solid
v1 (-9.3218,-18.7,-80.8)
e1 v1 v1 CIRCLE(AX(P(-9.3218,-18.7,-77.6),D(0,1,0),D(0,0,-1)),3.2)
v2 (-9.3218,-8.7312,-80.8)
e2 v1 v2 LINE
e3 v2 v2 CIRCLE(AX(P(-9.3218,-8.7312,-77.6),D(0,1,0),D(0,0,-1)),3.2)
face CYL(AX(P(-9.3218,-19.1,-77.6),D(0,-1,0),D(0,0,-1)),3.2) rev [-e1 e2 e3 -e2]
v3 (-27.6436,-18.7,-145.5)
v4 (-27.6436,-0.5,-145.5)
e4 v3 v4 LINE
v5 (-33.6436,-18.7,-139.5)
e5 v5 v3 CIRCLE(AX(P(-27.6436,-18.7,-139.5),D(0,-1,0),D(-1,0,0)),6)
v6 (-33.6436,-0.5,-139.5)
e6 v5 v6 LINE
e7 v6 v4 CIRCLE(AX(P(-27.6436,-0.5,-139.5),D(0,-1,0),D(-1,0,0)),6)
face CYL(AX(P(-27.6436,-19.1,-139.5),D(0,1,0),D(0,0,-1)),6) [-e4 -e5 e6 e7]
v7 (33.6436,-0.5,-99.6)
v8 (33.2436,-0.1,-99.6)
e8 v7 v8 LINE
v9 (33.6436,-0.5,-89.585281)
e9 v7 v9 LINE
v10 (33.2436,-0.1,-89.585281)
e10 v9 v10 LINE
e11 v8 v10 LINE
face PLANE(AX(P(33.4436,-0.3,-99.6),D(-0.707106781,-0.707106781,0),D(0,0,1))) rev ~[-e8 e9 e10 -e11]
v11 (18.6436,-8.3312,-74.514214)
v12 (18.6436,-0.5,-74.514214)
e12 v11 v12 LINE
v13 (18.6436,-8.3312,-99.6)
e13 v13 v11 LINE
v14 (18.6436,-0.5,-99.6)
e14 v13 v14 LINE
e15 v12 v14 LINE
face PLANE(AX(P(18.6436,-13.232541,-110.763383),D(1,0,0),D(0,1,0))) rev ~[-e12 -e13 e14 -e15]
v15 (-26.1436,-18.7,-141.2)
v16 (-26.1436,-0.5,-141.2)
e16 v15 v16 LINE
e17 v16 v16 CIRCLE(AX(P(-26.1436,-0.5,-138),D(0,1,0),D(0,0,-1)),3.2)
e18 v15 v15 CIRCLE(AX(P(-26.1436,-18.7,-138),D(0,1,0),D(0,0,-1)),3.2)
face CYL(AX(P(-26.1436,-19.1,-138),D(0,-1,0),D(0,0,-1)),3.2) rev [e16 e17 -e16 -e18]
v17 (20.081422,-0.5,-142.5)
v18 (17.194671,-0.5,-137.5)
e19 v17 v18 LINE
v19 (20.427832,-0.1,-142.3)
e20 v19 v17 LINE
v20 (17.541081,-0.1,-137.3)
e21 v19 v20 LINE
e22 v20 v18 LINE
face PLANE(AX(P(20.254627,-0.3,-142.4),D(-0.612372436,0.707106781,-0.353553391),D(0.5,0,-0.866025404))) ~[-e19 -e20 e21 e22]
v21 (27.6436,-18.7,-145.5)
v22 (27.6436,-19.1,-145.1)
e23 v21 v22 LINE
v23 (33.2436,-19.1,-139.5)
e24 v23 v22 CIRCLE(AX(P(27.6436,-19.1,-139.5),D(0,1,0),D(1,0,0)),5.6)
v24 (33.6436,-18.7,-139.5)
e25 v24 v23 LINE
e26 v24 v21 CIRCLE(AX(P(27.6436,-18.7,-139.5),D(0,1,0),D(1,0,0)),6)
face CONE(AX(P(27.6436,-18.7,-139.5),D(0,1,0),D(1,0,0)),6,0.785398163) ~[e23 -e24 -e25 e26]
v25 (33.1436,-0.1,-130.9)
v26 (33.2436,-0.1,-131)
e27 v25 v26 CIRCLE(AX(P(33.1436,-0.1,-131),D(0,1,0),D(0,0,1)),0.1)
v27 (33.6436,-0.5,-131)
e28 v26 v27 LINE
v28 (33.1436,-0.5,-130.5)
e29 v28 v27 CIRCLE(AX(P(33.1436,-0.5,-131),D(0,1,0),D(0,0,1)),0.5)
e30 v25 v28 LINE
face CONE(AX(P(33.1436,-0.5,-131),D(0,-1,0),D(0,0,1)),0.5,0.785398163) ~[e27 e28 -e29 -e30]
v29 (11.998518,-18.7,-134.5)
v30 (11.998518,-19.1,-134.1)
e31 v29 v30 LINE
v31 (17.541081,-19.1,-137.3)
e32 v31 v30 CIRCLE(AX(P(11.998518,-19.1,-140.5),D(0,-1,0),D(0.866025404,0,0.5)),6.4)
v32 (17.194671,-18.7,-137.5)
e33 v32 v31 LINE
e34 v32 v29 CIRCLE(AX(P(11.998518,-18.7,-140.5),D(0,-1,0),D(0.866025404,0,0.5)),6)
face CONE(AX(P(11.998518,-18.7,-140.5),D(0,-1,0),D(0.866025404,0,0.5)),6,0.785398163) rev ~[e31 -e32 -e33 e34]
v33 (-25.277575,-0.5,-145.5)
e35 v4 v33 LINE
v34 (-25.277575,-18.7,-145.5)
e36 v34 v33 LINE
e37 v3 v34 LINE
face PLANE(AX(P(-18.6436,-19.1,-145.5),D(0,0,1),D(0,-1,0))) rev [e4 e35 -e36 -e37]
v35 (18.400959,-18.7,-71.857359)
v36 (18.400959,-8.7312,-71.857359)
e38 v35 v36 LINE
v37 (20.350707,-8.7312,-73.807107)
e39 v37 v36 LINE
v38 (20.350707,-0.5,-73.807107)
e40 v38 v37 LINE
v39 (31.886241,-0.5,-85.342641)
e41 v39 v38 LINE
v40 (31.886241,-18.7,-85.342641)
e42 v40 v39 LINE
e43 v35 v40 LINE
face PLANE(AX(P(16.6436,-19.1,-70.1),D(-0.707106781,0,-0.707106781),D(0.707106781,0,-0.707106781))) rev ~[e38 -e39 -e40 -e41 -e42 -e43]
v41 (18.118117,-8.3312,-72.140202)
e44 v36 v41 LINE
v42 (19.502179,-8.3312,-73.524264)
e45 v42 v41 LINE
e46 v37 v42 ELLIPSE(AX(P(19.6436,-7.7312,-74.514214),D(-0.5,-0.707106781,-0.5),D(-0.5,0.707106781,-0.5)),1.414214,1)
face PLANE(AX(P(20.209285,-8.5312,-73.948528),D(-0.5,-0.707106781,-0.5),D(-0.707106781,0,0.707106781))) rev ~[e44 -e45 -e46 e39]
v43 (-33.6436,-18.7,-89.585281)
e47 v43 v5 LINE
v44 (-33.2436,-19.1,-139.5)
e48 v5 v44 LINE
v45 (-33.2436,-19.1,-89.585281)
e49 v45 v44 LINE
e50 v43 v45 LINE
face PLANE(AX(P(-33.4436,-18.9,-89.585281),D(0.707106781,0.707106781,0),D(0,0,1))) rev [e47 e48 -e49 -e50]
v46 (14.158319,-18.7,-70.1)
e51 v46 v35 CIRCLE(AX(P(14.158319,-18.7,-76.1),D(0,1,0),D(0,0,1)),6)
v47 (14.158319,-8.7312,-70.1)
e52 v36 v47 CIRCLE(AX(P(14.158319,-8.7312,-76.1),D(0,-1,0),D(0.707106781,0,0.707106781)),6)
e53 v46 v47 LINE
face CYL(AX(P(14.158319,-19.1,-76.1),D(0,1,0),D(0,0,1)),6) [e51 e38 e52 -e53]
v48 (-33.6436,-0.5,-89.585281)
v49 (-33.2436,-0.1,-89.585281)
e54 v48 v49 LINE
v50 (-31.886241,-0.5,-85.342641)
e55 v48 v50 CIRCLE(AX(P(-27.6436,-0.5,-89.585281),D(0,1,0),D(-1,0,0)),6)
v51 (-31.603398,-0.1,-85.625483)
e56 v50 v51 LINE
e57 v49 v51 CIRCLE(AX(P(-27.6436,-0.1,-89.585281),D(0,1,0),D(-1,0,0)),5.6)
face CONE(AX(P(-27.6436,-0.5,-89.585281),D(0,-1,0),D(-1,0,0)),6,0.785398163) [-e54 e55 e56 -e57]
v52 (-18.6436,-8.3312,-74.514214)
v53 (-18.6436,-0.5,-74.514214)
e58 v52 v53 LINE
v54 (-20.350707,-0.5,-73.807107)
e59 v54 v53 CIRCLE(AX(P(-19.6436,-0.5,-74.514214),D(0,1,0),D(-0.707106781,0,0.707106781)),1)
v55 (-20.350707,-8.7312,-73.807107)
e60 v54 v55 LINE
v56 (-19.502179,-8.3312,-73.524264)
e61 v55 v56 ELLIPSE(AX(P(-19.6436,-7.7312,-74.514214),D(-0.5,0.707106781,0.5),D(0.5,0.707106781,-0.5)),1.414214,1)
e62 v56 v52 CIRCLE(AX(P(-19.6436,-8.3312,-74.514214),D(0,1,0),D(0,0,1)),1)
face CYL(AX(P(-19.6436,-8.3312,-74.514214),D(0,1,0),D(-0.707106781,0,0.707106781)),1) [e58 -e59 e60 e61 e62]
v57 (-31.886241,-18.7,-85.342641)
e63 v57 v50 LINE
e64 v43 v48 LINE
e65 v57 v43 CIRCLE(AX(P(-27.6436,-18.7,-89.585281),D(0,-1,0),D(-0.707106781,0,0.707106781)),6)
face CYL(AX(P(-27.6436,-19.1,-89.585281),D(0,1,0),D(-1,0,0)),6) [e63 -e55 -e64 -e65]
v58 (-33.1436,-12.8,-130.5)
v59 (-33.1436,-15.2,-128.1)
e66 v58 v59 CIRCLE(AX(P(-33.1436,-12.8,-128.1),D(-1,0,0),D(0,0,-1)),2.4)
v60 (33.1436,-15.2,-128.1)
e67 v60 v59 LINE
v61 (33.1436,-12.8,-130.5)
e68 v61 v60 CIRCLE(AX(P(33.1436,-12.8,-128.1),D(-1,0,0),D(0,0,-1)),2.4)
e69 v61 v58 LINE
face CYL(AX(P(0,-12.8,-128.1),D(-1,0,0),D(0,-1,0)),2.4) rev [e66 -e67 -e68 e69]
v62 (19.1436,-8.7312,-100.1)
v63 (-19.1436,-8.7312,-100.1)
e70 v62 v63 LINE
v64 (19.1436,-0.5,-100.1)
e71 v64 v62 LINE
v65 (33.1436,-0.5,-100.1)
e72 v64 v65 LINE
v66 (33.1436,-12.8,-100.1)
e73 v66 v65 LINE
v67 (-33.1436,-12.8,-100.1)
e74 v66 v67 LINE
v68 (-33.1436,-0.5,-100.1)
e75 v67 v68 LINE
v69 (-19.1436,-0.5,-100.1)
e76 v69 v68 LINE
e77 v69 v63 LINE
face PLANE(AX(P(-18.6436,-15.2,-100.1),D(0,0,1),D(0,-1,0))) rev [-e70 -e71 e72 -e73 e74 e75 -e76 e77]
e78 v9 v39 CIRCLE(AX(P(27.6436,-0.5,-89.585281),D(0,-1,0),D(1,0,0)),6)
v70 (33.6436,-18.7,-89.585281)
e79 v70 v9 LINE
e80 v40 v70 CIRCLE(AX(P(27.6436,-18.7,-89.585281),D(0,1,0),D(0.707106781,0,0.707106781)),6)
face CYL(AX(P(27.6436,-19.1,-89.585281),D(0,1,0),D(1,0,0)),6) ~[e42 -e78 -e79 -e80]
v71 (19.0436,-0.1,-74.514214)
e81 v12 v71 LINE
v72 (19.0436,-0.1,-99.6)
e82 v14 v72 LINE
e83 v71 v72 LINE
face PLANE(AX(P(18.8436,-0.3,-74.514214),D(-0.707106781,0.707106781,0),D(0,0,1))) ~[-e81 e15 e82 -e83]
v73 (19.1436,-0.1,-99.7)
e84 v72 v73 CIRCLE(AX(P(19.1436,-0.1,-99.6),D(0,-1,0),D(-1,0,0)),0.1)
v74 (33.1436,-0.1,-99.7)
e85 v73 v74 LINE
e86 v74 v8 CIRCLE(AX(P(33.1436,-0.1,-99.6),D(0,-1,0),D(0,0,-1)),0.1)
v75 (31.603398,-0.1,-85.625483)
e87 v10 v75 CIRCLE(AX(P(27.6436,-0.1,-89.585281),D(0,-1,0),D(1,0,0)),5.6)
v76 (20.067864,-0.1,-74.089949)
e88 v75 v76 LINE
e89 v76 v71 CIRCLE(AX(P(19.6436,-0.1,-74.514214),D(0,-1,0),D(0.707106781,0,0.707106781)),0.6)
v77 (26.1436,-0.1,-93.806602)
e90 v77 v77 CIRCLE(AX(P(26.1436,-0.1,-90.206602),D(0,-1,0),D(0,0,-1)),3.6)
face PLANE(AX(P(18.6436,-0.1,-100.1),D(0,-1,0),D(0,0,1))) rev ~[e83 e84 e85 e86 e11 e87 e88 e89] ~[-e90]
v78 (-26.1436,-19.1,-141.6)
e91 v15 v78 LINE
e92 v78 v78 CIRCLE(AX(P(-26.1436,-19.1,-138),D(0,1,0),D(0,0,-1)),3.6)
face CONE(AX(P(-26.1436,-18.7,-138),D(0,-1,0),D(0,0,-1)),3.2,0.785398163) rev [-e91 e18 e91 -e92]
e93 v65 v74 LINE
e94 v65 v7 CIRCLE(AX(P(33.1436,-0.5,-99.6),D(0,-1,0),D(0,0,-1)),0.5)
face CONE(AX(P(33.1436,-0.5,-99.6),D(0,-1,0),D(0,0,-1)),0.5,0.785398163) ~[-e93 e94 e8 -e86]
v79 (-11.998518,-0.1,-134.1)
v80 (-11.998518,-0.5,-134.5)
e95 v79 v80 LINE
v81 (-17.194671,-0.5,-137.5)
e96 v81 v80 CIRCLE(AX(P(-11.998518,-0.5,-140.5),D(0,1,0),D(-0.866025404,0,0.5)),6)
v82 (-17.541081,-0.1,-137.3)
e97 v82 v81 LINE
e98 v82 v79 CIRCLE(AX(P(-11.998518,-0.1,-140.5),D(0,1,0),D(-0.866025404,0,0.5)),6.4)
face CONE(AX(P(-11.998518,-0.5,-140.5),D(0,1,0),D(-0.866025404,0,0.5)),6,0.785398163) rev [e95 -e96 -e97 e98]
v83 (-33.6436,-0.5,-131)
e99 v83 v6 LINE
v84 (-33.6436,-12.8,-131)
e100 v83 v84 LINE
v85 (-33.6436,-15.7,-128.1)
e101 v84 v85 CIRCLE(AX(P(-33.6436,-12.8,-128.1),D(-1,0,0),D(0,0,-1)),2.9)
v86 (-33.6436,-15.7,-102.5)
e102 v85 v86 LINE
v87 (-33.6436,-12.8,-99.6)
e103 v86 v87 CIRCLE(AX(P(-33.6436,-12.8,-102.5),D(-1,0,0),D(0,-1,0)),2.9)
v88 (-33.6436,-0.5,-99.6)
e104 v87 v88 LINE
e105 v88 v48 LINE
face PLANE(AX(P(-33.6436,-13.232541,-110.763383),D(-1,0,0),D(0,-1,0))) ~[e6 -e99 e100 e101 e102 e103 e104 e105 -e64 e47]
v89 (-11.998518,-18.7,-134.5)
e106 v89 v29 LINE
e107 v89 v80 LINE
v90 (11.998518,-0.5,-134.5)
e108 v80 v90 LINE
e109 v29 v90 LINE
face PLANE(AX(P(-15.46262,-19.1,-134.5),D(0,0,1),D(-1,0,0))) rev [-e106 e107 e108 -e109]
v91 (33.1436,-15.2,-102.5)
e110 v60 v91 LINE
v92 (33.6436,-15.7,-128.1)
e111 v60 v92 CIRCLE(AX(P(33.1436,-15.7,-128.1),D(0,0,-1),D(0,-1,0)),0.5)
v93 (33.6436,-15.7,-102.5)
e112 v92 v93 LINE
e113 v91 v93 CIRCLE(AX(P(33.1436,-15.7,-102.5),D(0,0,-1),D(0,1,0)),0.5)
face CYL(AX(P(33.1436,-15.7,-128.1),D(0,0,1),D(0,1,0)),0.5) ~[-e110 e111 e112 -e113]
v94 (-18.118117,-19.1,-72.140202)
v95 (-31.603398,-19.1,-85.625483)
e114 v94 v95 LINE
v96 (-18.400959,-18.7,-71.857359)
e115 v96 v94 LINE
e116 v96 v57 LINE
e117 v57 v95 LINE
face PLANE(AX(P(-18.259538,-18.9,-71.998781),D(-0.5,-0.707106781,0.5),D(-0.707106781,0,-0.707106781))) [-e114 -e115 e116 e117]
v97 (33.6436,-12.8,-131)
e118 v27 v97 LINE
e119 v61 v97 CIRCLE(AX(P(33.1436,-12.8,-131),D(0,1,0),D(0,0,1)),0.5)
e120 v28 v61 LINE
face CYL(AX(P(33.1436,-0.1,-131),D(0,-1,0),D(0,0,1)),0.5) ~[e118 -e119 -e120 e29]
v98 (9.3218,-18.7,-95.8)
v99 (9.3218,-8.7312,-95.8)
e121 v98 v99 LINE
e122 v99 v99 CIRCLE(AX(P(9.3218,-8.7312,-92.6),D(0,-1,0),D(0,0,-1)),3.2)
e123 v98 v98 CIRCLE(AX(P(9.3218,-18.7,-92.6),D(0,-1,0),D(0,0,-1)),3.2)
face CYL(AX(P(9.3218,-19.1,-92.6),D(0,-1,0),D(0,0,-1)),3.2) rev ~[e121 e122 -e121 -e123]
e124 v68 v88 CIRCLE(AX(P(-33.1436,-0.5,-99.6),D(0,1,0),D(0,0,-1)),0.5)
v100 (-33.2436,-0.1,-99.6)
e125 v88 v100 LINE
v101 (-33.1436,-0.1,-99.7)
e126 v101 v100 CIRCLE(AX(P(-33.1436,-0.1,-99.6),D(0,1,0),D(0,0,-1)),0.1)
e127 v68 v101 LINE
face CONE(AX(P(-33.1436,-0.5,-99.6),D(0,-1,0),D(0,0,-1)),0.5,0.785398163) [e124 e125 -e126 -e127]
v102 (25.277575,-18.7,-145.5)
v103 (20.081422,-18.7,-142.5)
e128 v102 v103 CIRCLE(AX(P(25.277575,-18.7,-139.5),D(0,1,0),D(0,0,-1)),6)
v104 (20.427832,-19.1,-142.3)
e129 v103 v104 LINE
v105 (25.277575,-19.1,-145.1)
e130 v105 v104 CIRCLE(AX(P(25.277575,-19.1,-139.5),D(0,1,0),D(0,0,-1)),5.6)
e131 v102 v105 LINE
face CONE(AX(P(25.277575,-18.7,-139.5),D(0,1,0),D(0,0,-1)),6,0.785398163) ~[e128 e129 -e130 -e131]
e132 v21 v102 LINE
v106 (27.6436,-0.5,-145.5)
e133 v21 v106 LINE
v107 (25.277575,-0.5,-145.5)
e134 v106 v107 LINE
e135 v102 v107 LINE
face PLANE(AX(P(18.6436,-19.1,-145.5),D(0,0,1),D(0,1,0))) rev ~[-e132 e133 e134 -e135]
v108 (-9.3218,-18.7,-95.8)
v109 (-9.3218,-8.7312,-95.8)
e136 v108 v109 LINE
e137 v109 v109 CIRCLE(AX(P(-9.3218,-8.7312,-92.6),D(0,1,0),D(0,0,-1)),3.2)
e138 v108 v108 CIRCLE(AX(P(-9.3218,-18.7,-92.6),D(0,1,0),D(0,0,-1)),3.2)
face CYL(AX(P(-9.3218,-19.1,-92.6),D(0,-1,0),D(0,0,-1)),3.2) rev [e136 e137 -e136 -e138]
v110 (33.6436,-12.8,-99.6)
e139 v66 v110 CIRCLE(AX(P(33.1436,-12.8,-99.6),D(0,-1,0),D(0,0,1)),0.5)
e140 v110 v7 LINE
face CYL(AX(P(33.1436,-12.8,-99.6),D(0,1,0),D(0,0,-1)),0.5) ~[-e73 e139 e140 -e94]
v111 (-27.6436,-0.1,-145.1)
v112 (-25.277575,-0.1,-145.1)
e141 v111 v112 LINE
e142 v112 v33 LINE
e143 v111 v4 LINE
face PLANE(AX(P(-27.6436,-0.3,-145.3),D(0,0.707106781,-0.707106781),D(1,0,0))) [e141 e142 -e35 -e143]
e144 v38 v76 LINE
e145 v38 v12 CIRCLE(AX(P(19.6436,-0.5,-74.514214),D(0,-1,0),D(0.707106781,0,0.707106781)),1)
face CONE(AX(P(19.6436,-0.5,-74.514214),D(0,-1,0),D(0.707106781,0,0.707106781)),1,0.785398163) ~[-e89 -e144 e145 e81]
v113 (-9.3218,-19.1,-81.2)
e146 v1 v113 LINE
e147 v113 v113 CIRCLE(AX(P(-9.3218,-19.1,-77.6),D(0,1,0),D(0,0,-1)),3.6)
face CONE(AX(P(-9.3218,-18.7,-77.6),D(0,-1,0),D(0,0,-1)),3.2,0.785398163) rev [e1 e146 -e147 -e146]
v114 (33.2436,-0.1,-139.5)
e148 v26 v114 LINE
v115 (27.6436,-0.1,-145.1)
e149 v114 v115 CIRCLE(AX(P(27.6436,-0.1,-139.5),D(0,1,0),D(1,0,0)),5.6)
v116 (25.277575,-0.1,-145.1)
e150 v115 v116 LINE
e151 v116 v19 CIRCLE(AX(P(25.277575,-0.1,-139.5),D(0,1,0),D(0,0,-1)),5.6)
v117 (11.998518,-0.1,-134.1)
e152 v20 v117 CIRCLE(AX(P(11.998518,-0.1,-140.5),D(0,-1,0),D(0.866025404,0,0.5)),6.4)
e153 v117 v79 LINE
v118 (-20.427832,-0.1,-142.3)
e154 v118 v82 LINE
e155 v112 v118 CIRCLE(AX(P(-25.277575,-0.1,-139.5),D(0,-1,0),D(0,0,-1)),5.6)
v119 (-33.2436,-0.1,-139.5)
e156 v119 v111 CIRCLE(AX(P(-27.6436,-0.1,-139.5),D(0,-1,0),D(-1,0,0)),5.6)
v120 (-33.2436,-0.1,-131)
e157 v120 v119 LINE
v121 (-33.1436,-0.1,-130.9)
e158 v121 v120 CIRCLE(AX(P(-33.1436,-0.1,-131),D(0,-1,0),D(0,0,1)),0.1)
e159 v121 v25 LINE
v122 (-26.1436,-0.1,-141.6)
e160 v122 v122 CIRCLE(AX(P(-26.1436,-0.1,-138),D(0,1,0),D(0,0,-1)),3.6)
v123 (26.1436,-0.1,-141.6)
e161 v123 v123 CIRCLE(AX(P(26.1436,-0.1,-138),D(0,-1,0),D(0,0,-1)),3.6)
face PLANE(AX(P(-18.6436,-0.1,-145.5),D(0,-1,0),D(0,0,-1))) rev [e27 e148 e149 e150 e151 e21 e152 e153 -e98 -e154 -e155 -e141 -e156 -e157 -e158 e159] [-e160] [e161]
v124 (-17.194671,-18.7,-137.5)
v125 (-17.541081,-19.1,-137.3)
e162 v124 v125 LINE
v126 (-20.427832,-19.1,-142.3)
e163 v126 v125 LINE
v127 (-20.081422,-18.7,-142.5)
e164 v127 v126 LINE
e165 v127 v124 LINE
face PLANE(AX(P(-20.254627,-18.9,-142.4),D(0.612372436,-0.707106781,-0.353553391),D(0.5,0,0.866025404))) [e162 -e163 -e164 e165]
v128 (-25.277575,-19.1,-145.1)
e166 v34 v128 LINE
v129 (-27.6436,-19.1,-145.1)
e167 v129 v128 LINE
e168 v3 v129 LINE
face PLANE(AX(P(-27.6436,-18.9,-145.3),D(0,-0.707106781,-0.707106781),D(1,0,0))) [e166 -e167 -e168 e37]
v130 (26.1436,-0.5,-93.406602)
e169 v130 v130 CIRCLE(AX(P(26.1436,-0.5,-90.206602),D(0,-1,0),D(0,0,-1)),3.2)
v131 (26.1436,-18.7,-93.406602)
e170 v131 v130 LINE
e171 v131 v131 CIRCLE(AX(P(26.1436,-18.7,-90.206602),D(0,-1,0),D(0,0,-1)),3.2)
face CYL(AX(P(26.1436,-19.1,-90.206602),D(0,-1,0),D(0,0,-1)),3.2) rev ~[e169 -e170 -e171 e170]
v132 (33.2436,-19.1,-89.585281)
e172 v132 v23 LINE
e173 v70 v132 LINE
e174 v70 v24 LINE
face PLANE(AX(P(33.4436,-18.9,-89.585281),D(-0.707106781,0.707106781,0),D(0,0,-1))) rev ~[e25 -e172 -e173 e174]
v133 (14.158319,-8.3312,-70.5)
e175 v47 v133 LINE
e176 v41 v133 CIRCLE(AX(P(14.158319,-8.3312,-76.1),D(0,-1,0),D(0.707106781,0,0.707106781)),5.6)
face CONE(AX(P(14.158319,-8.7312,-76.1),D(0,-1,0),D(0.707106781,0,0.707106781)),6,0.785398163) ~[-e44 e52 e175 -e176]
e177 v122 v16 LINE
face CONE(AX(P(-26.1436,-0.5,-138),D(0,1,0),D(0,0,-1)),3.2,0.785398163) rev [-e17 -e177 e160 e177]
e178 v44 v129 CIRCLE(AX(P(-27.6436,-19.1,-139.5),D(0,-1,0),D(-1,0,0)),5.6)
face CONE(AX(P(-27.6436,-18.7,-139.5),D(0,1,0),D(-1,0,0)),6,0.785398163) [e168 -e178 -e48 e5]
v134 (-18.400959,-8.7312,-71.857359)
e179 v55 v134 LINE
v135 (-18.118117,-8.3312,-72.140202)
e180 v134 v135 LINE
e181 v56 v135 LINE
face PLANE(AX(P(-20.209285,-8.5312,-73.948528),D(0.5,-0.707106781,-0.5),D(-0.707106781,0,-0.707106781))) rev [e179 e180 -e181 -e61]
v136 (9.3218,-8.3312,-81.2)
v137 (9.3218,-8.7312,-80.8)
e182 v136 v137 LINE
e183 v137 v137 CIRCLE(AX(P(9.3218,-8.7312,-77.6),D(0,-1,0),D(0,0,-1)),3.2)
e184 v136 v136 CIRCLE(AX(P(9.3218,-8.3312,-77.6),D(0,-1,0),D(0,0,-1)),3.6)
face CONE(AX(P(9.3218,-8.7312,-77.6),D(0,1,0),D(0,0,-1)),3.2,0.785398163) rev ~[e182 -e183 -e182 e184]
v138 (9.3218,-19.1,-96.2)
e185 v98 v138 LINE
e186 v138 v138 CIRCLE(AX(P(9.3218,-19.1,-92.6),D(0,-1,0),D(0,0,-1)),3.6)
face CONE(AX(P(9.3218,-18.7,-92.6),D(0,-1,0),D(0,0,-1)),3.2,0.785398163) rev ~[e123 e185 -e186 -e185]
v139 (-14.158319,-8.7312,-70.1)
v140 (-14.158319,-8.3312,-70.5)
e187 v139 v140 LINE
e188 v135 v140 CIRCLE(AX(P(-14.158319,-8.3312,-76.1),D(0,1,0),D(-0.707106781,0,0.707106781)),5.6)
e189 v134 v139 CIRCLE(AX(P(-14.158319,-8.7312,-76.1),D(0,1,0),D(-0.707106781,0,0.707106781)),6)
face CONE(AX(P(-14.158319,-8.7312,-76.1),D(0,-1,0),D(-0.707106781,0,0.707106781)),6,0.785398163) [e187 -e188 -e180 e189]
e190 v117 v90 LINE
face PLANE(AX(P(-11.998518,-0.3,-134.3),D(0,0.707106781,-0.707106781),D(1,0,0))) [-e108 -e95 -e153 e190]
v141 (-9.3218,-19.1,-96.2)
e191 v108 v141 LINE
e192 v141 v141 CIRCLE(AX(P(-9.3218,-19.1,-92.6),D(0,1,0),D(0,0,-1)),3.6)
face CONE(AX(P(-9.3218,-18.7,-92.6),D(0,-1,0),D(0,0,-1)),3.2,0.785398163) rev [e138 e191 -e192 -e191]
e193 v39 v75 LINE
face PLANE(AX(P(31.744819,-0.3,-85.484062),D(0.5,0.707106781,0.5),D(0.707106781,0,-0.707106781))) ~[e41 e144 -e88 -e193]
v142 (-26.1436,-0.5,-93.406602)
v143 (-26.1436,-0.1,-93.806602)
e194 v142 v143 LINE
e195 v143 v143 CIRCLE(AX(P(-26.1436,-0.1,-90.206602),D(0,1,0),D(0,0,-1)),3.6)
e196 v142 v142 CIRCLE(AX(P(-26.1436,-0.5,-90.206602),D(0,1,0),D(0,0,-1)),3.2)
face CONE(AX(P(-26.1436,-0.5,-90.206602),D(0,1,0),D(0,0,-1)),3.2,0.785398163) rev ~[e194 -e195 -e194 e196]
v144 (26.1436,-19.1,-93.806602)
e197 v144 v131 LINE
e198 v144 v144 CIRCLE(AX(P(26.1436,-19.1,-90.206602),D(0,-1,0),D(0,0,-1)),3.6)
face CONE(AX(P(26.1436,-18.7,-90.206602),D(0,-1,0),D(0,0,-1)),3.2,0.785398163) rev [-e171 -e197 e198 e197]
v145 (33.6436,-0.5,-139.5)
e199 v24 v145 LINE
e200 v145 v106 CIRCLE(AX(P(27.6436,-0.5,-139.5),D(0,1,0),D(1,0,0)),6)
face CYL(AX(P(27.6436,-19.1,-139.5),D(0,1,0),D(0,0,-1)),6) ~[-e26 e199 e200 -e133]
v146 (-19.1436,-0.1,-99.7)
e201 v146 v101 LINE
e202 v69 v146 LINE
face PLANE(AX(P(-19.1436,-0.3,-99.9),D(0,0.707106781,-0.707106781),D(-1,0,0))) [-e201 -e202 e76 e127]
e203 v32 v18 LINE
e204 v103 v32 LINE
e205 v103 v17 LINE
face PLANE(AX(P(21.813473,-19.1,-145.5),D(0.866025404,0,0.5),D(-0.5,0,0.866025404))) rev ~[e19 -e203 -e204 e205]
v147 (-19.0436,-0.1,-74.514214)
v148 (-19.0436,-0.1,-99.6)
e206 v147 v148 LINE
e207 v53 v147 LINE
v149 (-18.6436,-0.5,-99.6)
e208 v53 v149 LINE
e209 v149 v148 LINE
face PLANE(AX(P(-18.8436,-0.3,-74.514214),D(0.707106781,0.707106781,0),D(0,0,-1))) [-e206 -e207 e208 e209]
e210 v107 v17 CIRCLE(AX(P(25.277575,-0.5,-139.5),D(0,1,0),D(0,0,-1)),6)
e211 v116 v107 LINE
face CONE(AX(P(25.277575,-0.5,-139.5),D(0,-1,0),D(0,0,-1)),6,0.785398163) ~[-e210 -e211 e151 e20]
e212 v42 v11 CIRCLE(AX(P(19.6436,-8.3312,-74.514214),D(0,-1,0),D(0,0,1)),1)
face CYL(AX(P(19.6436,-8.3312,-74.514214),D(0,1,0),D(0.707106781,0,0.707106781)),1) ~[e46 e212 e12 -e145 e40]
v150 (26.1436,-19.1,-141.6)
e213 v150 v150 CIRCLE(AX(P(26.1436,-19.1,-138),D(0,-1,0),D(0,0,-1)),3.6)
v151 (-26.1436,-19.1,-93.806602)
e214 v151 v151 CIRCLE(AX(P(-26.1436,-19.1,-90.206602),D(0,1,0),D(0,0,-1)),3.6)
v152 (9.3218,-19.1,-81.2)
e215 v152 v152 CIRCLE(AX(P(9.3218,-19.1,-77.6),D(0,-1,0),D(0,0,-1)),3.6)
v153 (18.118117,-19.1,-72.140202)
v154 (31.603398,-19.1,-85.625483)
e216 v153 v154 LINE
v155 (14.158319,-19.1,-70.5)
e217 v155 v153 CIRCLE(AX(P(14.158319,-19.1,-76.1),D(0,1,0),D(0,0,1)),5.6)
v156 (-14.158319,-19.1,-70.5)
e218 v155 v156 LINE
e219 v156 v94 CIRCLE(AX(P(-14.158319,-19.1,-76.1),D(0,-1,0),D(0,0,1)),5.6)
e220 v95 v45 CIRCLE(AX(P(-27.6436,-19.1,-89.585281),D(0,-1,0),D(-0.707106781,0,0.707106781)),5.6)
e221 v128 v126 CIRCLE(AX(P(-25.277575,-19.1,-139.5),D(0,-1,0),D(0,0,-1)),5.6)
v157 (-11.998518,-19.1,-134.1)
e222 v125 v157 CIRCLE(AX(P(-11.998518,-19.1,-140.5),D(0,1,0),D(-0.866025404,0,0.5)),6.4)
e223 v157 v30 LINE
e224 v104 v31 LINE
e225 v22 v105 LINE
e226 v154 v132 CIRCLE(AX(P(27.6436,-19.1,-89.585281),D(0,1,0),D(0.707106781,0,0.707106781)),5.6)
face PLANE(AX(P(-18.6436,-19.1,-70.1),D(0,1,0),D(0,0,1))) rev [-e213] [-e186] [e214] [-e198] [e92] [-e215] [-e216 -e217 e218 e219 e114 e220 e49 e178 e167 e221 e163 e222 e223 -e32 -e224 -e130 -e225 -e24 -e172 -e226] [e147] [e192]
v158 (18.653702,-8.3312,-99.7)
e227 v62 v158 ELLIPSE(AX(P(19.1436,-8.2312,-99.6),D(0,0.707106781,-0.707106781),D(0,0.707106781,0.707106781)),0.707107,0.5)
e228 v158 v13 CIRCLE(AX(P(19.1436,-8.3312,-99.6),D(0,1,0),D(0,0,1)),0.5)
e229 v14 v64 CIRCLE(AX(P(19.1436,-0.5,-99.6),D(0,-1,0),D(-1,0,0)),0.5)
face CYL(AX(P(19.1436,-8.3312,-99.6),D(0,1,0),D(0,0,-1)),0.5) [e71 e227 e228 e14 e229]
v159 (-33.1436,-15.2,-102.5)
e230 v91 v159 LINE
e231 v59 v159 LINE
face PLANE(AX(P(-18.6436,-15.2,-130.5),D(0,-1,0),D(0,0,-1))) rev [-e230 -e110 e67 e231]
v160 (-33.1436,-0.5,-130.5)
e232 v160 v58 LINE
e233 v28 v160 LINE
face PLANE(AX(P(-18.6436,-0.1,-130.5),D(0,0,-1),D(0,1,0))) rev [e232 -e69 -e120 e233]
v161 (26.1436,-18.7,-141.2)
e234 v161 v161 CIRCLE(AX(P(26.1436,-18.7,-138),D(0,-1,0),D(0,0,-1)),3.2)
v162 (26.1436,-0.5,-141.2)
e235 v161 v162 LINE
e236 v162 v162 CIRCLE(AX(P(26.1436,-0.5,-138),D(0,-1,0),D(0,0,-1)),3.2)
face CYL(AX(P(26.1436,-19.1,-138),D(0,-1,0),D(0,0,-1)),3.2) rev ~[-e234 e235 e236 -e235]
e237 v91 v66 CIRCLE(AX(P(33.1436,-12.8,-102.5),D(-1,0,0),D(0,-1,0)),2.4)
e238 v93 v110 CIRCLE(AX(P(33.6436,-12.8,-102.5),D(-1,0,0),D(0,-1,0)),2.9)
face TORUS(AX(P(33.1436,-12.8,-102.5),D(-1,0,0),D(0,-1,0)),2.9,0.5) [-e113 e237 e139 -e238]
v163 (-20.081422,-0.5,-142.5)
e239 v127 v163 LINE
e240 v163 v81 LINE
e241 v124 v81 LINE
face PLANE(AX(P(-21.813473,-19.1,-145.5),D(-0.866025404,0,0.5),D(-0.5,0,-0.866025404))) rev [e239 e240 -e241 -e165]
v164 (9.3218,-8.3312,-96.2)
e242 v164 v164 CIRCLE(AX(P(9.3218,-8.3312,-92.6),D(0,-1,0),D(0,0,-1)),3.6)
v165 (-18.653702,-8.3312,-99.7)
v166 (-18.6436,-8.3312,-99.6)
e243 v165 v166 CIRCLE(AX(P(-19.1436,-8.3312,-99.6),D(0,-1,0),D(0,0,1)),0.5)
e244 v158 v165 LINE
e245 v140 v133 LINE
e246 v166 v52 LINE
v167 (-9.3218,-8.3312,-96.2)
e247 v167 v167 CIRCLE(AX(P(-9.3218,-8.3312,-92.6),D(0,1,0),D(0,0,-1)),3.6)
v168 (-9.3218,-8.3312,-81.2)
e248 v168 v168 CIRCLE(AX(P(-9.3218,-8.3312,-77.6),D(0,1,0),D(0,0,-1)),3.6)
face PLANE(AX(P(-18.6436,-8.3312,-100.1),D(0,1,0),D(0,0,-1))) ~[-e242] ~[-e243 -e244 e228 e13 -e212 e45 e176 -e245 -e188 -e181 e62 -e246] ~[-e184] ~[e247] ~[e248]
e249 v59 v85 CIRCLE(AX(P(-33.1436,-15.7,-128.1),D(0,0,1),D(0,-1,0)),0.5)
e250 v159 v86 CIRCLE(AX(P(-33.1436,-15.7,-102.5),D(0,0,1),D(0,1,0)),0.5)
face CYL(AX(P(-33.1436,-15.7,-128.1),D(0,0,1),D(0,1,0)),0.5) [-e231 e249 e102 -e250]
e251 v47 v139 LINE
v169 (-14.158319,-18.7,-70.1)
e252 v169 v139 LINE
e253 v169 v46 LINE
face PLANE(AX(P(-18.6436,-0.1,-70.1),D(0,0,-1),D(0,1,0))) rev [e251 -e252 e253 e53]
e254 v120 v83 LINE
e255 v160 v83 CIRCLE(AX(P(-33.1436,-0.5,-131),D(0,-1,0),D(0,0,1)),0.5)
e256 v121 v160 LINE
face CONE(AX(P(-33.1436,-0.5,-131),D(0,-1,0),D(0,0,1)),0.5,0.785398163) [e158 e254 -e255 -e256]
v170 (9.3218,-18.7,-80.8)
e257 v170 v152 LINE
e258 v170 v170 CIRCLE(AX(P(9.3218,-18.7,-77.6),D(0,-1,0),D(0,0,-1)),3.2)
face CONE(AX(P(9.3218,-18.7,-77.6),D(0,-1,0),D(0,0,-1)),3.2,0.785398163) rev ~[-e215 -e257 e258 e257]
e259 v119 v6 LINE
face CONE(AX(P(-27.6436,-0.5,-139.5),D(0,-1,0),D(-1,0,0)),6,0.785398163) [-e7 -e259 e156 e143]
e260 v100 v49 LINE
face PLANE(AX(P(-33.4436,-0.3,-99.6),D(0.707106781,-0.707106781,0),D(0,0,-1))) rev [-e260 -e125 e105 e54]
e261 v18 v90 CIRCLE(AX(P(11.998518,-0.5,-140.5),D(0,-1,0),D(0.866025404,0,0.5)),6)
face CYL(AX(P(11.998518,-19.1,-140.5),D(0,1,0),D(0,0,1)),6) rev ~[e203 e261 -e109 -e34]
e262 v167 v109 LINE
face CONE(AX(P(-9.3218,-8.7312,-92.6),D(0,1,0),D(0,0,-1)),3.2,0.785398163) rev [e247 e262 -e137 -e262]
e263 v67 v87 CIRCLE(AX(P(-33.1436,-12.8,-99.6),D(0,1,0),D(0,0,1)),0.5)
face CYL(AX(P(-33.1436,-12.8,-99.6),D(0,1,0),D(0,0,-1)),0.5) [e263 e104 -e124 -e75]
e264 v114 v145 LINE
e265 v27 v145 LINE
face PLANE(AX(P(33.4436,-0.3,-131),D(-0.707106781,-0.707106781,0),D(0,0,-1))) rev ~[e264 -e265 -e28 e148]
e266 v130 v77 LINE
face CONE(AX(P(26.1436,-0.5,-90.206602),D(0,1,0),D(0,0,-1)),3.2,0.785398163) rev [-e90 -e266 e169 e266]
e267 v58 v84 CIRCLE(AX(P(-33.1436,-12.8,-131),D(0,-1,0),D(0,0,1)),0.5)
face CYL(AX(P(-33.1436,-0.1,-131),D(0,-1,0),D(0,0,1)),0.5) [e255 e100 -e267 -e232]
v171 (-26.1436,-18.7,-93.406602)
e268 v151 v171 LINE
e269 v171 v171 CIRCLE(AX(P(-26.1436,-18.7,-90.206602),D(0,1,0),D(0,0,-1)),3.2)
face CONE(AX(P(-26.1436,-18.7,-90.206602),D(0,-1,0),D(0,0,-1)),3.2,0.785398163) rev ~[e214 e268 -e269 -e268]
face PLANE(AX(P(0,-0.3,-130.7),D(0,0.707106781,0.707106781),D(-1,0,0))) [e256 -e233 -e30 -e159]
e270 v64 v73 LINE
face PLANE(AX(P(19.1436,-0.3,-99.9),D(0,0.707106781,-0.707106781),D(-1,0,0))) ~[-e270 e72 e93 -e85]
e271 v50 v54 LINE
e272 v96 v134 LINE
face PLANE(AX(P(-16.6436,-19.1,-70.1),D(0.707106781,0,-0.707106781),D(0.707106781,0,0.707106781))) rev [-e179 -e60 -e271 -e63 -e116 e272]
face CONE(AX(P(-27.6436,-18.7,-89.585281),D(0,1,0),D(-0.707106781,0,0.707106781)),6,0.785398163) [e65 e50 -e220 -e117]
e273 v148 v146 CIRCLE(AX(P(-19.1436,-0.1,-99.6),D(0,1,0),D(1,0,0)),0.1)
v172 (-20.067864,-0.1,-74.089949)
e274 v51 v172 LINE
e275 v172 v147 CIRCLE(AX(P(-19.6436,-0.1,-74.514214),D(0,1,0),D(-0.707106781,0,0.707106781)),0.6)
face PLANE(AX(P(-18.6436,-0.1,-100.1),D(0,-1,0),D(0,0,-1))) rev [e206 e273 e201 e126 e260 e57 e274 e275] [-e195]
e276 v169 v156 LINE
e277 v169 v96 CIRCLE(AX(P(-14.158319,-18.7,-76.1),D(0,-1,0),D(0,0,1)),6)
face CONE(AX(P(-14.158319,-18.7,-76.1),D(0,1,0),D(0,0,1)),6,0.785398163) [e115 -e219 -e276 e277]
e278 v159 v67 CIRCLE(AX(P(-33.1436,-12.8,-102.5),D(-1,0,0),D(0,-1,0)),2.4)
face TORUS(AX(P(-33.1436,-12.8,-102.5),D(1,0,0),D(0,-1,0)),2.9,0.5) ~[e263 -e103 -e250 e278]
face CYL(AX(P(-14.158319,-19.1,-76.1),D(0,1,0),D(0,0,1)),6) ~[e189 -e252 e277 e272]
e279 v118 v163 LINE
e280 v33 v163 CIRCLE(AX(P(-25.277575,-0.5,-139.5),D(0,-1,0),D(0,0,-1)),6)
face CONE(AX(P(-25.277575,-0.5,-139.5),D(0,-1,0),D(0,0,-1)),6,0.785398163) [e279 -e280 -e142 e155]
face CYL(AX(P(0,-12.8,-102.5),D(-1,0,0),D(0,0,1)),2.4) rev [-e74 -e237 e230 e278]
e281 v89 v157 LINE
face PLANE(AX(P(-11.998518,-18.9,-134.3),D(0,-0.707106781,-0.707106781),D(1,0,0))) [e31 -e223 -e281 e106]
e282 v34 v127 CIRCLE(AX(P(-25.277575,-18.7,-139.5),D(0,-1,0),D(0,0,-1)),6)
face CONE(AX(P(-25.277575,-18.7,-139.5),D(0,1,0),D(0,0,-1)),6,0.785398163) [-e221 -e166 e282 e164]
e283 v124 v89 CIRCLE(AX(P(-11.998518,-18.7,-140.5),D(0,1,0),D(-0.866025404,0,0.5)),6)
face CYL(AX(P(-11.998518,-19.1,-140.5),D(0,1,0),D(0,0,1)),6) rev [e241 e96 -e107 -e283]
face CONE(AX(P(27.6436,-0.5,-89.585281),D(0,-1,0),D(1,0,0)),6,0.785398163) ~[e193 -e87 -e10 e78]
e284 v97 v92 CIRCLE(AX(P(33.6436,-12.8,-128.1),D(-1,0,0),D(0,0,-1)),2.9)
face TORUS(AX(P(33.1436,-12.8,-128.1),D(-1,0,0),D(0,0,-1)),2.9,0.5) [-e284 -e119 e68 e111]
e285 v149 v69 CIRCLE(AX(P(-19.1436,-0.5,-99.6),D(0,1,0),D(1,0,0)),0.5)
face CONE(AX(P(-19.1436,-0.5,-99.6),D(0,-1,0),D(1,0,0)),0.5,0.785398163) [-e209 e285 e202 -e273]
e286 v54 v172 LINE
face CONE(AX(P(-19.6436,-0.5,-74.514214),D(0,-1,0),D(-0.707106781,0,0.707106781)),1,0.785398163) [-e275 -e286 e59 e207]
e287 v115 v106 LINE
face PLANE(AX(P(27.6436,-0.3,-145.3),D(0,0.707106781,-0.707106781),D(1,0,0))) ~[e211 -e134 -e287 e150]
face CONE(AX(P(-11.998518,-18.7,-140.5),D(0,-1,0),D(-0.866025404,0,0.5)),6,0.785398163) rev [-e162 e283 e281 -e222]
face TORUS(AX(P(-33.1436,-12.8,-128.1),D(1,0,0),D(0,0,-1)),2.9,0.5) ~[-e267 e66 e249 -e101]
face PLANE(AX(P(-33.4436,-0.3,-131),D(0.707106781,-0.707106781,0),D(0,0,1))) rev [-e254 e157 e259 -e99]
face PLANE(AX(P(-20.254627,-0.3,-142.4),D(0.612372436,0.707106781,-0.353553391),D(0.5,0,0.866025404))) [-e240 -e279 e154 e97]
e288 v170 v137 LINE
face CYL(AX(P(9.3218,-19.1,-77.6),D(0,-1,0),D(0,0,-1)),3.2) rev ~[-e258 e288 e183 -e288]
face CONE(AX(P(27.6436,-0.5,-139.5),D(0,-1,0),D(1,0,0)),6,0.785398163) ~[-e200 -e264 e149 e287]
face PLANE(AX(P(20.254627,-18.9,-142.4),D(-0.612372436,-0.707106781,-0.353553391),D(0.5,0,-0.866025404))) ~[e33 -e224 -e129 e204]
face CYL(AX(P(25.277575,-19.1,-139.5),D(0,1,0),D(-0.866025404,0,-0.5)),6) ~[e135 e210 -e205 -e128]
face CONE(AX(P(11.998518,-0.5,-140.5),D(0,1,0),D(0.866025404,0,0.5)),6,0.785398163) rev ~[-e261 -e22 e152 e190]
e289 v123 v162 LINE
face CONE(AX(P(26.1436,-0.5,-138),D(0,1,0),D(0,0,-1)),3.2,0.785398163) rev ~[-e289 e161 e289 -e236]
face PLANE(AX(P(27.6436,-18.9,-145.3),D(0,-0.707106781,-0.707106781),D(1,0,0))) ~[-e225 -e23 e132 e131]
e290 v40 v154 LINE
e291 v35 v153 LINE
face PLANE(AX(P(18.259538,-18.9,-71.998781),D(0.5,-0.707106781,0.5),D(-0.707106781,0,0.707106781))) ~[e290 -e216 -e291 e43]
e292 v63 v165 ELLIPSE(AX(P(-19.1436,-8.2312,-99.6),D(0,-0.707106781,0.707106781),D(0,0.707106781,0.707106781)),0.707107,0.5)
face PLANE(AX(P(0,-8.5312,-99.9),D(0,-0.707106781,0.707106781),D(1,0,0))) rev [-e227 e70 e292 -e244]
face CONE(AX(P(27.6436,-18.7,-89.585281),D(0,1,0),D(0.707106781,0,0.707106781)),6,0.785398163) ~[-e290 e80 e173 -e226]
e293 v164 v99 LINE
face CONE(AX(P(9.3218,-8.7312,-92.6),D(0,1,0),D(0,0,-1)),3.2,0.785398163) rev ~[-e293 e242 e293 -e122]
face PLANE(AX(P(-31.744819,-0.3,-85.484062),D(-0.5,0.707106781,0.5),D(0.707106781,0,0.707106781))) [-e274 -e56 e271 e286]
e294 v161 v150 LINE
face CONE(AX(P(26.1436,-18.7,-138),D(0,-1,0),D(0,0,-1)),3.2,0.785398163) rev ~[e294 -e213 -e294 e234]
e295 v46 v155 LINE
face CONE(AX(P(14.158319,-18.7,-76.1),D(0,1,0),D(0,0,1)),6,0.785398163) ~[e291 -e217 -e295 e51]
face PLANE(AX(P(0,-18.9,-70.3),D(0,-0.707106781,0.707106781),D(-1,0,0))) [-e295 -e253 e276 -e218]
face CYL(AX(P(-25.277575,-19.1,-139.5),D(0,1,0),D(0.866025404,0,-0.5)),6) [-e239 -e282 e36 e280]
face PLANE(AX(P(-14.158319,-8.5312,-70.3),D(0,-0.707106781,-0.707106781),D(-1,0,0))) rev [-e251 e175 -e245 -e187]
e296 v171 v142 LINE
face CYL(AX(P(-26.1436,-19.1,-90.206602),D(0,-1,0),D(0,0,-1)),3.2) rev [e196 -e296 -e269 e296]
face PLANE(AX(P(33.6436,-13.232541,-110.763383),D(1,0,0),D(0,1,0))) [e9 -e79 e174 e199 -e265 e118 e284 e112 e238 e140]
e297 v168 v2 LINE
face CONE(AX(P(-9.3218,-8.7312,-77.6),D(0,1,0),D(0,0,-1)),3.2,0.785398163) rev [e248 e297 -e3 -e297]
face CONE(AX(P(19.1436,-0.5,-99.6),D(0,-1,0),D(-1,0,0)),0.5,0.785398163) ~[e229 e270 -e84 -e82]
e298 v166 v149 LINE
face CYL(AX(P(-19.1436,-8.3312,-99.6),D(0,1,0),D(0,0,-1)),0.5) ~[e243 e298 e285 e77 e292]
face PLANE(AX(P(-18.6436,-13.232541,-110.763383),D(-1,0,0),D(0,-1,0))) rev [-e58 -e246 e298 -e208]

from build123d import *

# Parameters (mm, degrees)
SKETCH1_W           = 16.6624
SKETCH1_H           = 37.2872
BOSS_EXTRUDE1_DEPTH = 100
BOSS_EXTRUDE2_DEPTH = 18.6436
SKETCH2_3_W         = 8.2312
SKETCH2_3_H         = 29.9
SKETCH2_3_H_2       = 0.1
BOSS_EXTRUDE3_DEPTH = 15
SKETCH3_R           = 3.2
CUT_EXTRUDE1_DEPTH  = 151.542823877
FILLET1_R           = 6
FILLET3_R           = 2.4
FILLET2_R           = 0.5
FILLET4_R           = 1
CHAMFER1_SIZE       = 0.4


with BuildPart() as part:
    # Sketch1 → Boss-Extrude1 (new, symmetric)
    with BuildSketch(Plane(origin=(0, 0, 0), x_dir=(0, 1, 0), z_dir=(0, 0, 1))):
        Rectangle(SKETCH1_W, SKETCH1_H)
    extrude(amount=BOSS_EXTRUDE1_DEPTH, both=True)


with BuildPart() as body_2:
    # Sketch2 → Boss-Extrude2 (new body)
    with BuildSketch(Plane.YZ.offset(18.6436)):
        Polygon((-8.3312, -100), (-8.3312, -70.1), (-19.1, -70.1), (-19.1, -145.5), (-0.1, -145.5), (-0.1, -130.5), (-15.2, -130.5), (-15.2, -100.1), (-8.3312, -100.1), align=None)
    extrude(amount=-BOSS_EXTRUDE2_DEPTH)

    # Sketch2<3> → Boss-Extrude3 (add)
    with BuildSketch(Plane.YZ.offset(18.6436)):
        Polygon((-8.3312, -100), (-8.3312, -70.1), (-19.1, -70.1), (-19.1, -145.5), (-0.1, -145.5), (-0.1, -130.5), (-15.2, -130.5), (-15.2, -100.1), (-8.3312, -100.1), align=None)
        with Locations((-4.2156, -85.05)):
            Rectangle(SKETCH2_3_W, SKETCH2_3_H)
        with Locations((-4.2156, -100.05)):
            Rectangle(SKETCH2_3_W, SKETCH2_3_H_2)
    extrude(amount=BOSS_EXTRUDE3_DEPTH)

    # Sketch3 → Cut-Extrude1 (cut, through all)
    with BuildSketch(Plane.XZ.offset(19.1)):
        Polygon((15.46262002, -134.5), (0, -134.5), (0, -145.5), (21.813472981, -145.5), align=None)
        with Locations(Location((26.1436, -138, 0), (0, 0, 270))):
            Circle(SKETCH3_R)
        with Locations(Location((26.1436, -90.206601718, 0), (0, 0, 270))):
            Circle(SKETCH3_R)
        Polygon((33.6436, -70.1), (18.6436, -70.1), (18.6436, -72.1), (33.6436, -87.1), align=None)
        Polygon((18.6436, -70.1), (16.6436, -70.1), (18.6436, -72.1), align=None)
        with Locations(Location((9.3218, -77.6, 0), (0, 0, 270))):
            Circle(SKETCH3_R)
        with Locations(Location((9.3218, -92.6, 0), (0, 0, 270))):
            Circle(SKETCH3_R)
    extrude(amount=-CUT_EXTRUDE1_DEPTH, mode=Mode.SUBTRACT)

    # Fillet1
    fillet1_edges = [body_2.edges().sort_by_distance(p)[0] for p in [
        (15.46262002, -9.6, -134.5),
        (21.813472981, -9.6, -145.5),
        (33.6436, -9.6, -145.5),
        (16.6436, -13.7156, -70.1),
        (33.6436, -9.6, -87.1),
    ]]
    fillet(fillet1_edges, radius=FILLET1_R)

    # Fillet3
    fillet3_edges = [body_2.edges().sort_by_distance(p)[0] for p in [
        (16.8218, -15.2, -130.5),
        (16.8218, -15.2, -100.1),
    ]]
    fillet(fillet3_edges, radius=FILLET3_R)

    # Fillet2
    fillet2_edges = [body_2.edges().sort_by_distance(p)[0] for p in [
        (33.6436, -6.45, -130.5),
        (33.6436, -15.2, -115.3),
        (33.6436, -14.497056275, -129.797056275),
        (33.6436, -14.497056275, -100.802943725),
        (33.6436, -6.45, -100.1),
        (18.6436, -4.2156, -100.1),
    ]]
    fillet(fillet2_edges, radius=FILLET2_R)

    # Fillet4
    fillet4_edges = [body_2.edges().sort_by_distance(p)[0] for p in [
        (18.6436, -4.2156, -72.1),
    ]]
    fillet(fillet4_edges, radius=FILLET4_R)

    # Chamfer1
    chamfer1_edges = [body_2.edges().sort_by_distance(p)[0] for p in [
        (26.1436, -0.1, -87.006601718),
        (26.1436, -19.1, -87.006601718),
        (26.1436, -0.1, -134.8),
        (26.1436, -19.1, -134.8),
        (9.3218, -8.3312, -89.4),
        (9.3218, -19.1, -89.4),
        (5.999259202, -19.1, -134.5),
        (5.999259202, -0.1, -134.5),
        (26.460587298, -0.1, -145.5),
        (26.460587298, -19.1, -145.5),
        (33.6436, -19.1, -114.542640687),
        (25.1436, -19.1, -78.6),
        (18.638046501, -19.1, -140),
        (16.45441922, -19.1, -70.556722805),
        (33.186877195, -19.1, -87.28918078),
        (22.277574596, -19.1, -144.696152423),
        (31.886240687, -19.1, -143.742640687),
        (18.638046501, -0.1, -140),
        (22.277574596, -0.1, -144.696152423),
        (31.886240687, -0.1, -143.742640687),
        (19.375833047, -8.3312, -72.832233047),
        (33.186877195, -0.1, -87.28918078),
        (16.45441922, -8.3312, -70.556722805),
        (14.998518405, -19.1, -135.303847577),
        (14.998518405, -0.1, -135.303847577),
        (33.6436, -0.1, -135.25),
        (33.6436, -0.1, -94.592640687),
        (33.497153391, -0.1, -130.646446609),
        (18.6436, -0.1, -87.057106781),
        (26.1436, -0.1, -100.1),
        (33.497153391, -0.1, -99.953553391),
        (18.790046609, -0.1, -99.953553391),
        (26.118473734, -0.1, -79.574873734),
        (19.260916568, -0.1, -73.59033403),
        (7.079159313, -19.1, -70.1),
        (16.5718, -0.1, -130.5),
        (9.5718, -8.3312, -100.1),
        (7.079159313, -8.3312, -70.1),
        (9.3218, -8.3312, -74.4),
        (9.3218, -19.1, -74.4),
    ]]
    chamfer(chamfer1_edges, length=CHAMFER1_SIZE)

    # Mirror1: body 2 across plane


with BuildPart() as body_2_1:
    add(body_2.part)
    add(body_2.part.mirror(Plane(origin=(0, 0, 0), x_dir=(0, 0, 1), z_dir=(1, 0, 0))))


solid = body_2_1.part
